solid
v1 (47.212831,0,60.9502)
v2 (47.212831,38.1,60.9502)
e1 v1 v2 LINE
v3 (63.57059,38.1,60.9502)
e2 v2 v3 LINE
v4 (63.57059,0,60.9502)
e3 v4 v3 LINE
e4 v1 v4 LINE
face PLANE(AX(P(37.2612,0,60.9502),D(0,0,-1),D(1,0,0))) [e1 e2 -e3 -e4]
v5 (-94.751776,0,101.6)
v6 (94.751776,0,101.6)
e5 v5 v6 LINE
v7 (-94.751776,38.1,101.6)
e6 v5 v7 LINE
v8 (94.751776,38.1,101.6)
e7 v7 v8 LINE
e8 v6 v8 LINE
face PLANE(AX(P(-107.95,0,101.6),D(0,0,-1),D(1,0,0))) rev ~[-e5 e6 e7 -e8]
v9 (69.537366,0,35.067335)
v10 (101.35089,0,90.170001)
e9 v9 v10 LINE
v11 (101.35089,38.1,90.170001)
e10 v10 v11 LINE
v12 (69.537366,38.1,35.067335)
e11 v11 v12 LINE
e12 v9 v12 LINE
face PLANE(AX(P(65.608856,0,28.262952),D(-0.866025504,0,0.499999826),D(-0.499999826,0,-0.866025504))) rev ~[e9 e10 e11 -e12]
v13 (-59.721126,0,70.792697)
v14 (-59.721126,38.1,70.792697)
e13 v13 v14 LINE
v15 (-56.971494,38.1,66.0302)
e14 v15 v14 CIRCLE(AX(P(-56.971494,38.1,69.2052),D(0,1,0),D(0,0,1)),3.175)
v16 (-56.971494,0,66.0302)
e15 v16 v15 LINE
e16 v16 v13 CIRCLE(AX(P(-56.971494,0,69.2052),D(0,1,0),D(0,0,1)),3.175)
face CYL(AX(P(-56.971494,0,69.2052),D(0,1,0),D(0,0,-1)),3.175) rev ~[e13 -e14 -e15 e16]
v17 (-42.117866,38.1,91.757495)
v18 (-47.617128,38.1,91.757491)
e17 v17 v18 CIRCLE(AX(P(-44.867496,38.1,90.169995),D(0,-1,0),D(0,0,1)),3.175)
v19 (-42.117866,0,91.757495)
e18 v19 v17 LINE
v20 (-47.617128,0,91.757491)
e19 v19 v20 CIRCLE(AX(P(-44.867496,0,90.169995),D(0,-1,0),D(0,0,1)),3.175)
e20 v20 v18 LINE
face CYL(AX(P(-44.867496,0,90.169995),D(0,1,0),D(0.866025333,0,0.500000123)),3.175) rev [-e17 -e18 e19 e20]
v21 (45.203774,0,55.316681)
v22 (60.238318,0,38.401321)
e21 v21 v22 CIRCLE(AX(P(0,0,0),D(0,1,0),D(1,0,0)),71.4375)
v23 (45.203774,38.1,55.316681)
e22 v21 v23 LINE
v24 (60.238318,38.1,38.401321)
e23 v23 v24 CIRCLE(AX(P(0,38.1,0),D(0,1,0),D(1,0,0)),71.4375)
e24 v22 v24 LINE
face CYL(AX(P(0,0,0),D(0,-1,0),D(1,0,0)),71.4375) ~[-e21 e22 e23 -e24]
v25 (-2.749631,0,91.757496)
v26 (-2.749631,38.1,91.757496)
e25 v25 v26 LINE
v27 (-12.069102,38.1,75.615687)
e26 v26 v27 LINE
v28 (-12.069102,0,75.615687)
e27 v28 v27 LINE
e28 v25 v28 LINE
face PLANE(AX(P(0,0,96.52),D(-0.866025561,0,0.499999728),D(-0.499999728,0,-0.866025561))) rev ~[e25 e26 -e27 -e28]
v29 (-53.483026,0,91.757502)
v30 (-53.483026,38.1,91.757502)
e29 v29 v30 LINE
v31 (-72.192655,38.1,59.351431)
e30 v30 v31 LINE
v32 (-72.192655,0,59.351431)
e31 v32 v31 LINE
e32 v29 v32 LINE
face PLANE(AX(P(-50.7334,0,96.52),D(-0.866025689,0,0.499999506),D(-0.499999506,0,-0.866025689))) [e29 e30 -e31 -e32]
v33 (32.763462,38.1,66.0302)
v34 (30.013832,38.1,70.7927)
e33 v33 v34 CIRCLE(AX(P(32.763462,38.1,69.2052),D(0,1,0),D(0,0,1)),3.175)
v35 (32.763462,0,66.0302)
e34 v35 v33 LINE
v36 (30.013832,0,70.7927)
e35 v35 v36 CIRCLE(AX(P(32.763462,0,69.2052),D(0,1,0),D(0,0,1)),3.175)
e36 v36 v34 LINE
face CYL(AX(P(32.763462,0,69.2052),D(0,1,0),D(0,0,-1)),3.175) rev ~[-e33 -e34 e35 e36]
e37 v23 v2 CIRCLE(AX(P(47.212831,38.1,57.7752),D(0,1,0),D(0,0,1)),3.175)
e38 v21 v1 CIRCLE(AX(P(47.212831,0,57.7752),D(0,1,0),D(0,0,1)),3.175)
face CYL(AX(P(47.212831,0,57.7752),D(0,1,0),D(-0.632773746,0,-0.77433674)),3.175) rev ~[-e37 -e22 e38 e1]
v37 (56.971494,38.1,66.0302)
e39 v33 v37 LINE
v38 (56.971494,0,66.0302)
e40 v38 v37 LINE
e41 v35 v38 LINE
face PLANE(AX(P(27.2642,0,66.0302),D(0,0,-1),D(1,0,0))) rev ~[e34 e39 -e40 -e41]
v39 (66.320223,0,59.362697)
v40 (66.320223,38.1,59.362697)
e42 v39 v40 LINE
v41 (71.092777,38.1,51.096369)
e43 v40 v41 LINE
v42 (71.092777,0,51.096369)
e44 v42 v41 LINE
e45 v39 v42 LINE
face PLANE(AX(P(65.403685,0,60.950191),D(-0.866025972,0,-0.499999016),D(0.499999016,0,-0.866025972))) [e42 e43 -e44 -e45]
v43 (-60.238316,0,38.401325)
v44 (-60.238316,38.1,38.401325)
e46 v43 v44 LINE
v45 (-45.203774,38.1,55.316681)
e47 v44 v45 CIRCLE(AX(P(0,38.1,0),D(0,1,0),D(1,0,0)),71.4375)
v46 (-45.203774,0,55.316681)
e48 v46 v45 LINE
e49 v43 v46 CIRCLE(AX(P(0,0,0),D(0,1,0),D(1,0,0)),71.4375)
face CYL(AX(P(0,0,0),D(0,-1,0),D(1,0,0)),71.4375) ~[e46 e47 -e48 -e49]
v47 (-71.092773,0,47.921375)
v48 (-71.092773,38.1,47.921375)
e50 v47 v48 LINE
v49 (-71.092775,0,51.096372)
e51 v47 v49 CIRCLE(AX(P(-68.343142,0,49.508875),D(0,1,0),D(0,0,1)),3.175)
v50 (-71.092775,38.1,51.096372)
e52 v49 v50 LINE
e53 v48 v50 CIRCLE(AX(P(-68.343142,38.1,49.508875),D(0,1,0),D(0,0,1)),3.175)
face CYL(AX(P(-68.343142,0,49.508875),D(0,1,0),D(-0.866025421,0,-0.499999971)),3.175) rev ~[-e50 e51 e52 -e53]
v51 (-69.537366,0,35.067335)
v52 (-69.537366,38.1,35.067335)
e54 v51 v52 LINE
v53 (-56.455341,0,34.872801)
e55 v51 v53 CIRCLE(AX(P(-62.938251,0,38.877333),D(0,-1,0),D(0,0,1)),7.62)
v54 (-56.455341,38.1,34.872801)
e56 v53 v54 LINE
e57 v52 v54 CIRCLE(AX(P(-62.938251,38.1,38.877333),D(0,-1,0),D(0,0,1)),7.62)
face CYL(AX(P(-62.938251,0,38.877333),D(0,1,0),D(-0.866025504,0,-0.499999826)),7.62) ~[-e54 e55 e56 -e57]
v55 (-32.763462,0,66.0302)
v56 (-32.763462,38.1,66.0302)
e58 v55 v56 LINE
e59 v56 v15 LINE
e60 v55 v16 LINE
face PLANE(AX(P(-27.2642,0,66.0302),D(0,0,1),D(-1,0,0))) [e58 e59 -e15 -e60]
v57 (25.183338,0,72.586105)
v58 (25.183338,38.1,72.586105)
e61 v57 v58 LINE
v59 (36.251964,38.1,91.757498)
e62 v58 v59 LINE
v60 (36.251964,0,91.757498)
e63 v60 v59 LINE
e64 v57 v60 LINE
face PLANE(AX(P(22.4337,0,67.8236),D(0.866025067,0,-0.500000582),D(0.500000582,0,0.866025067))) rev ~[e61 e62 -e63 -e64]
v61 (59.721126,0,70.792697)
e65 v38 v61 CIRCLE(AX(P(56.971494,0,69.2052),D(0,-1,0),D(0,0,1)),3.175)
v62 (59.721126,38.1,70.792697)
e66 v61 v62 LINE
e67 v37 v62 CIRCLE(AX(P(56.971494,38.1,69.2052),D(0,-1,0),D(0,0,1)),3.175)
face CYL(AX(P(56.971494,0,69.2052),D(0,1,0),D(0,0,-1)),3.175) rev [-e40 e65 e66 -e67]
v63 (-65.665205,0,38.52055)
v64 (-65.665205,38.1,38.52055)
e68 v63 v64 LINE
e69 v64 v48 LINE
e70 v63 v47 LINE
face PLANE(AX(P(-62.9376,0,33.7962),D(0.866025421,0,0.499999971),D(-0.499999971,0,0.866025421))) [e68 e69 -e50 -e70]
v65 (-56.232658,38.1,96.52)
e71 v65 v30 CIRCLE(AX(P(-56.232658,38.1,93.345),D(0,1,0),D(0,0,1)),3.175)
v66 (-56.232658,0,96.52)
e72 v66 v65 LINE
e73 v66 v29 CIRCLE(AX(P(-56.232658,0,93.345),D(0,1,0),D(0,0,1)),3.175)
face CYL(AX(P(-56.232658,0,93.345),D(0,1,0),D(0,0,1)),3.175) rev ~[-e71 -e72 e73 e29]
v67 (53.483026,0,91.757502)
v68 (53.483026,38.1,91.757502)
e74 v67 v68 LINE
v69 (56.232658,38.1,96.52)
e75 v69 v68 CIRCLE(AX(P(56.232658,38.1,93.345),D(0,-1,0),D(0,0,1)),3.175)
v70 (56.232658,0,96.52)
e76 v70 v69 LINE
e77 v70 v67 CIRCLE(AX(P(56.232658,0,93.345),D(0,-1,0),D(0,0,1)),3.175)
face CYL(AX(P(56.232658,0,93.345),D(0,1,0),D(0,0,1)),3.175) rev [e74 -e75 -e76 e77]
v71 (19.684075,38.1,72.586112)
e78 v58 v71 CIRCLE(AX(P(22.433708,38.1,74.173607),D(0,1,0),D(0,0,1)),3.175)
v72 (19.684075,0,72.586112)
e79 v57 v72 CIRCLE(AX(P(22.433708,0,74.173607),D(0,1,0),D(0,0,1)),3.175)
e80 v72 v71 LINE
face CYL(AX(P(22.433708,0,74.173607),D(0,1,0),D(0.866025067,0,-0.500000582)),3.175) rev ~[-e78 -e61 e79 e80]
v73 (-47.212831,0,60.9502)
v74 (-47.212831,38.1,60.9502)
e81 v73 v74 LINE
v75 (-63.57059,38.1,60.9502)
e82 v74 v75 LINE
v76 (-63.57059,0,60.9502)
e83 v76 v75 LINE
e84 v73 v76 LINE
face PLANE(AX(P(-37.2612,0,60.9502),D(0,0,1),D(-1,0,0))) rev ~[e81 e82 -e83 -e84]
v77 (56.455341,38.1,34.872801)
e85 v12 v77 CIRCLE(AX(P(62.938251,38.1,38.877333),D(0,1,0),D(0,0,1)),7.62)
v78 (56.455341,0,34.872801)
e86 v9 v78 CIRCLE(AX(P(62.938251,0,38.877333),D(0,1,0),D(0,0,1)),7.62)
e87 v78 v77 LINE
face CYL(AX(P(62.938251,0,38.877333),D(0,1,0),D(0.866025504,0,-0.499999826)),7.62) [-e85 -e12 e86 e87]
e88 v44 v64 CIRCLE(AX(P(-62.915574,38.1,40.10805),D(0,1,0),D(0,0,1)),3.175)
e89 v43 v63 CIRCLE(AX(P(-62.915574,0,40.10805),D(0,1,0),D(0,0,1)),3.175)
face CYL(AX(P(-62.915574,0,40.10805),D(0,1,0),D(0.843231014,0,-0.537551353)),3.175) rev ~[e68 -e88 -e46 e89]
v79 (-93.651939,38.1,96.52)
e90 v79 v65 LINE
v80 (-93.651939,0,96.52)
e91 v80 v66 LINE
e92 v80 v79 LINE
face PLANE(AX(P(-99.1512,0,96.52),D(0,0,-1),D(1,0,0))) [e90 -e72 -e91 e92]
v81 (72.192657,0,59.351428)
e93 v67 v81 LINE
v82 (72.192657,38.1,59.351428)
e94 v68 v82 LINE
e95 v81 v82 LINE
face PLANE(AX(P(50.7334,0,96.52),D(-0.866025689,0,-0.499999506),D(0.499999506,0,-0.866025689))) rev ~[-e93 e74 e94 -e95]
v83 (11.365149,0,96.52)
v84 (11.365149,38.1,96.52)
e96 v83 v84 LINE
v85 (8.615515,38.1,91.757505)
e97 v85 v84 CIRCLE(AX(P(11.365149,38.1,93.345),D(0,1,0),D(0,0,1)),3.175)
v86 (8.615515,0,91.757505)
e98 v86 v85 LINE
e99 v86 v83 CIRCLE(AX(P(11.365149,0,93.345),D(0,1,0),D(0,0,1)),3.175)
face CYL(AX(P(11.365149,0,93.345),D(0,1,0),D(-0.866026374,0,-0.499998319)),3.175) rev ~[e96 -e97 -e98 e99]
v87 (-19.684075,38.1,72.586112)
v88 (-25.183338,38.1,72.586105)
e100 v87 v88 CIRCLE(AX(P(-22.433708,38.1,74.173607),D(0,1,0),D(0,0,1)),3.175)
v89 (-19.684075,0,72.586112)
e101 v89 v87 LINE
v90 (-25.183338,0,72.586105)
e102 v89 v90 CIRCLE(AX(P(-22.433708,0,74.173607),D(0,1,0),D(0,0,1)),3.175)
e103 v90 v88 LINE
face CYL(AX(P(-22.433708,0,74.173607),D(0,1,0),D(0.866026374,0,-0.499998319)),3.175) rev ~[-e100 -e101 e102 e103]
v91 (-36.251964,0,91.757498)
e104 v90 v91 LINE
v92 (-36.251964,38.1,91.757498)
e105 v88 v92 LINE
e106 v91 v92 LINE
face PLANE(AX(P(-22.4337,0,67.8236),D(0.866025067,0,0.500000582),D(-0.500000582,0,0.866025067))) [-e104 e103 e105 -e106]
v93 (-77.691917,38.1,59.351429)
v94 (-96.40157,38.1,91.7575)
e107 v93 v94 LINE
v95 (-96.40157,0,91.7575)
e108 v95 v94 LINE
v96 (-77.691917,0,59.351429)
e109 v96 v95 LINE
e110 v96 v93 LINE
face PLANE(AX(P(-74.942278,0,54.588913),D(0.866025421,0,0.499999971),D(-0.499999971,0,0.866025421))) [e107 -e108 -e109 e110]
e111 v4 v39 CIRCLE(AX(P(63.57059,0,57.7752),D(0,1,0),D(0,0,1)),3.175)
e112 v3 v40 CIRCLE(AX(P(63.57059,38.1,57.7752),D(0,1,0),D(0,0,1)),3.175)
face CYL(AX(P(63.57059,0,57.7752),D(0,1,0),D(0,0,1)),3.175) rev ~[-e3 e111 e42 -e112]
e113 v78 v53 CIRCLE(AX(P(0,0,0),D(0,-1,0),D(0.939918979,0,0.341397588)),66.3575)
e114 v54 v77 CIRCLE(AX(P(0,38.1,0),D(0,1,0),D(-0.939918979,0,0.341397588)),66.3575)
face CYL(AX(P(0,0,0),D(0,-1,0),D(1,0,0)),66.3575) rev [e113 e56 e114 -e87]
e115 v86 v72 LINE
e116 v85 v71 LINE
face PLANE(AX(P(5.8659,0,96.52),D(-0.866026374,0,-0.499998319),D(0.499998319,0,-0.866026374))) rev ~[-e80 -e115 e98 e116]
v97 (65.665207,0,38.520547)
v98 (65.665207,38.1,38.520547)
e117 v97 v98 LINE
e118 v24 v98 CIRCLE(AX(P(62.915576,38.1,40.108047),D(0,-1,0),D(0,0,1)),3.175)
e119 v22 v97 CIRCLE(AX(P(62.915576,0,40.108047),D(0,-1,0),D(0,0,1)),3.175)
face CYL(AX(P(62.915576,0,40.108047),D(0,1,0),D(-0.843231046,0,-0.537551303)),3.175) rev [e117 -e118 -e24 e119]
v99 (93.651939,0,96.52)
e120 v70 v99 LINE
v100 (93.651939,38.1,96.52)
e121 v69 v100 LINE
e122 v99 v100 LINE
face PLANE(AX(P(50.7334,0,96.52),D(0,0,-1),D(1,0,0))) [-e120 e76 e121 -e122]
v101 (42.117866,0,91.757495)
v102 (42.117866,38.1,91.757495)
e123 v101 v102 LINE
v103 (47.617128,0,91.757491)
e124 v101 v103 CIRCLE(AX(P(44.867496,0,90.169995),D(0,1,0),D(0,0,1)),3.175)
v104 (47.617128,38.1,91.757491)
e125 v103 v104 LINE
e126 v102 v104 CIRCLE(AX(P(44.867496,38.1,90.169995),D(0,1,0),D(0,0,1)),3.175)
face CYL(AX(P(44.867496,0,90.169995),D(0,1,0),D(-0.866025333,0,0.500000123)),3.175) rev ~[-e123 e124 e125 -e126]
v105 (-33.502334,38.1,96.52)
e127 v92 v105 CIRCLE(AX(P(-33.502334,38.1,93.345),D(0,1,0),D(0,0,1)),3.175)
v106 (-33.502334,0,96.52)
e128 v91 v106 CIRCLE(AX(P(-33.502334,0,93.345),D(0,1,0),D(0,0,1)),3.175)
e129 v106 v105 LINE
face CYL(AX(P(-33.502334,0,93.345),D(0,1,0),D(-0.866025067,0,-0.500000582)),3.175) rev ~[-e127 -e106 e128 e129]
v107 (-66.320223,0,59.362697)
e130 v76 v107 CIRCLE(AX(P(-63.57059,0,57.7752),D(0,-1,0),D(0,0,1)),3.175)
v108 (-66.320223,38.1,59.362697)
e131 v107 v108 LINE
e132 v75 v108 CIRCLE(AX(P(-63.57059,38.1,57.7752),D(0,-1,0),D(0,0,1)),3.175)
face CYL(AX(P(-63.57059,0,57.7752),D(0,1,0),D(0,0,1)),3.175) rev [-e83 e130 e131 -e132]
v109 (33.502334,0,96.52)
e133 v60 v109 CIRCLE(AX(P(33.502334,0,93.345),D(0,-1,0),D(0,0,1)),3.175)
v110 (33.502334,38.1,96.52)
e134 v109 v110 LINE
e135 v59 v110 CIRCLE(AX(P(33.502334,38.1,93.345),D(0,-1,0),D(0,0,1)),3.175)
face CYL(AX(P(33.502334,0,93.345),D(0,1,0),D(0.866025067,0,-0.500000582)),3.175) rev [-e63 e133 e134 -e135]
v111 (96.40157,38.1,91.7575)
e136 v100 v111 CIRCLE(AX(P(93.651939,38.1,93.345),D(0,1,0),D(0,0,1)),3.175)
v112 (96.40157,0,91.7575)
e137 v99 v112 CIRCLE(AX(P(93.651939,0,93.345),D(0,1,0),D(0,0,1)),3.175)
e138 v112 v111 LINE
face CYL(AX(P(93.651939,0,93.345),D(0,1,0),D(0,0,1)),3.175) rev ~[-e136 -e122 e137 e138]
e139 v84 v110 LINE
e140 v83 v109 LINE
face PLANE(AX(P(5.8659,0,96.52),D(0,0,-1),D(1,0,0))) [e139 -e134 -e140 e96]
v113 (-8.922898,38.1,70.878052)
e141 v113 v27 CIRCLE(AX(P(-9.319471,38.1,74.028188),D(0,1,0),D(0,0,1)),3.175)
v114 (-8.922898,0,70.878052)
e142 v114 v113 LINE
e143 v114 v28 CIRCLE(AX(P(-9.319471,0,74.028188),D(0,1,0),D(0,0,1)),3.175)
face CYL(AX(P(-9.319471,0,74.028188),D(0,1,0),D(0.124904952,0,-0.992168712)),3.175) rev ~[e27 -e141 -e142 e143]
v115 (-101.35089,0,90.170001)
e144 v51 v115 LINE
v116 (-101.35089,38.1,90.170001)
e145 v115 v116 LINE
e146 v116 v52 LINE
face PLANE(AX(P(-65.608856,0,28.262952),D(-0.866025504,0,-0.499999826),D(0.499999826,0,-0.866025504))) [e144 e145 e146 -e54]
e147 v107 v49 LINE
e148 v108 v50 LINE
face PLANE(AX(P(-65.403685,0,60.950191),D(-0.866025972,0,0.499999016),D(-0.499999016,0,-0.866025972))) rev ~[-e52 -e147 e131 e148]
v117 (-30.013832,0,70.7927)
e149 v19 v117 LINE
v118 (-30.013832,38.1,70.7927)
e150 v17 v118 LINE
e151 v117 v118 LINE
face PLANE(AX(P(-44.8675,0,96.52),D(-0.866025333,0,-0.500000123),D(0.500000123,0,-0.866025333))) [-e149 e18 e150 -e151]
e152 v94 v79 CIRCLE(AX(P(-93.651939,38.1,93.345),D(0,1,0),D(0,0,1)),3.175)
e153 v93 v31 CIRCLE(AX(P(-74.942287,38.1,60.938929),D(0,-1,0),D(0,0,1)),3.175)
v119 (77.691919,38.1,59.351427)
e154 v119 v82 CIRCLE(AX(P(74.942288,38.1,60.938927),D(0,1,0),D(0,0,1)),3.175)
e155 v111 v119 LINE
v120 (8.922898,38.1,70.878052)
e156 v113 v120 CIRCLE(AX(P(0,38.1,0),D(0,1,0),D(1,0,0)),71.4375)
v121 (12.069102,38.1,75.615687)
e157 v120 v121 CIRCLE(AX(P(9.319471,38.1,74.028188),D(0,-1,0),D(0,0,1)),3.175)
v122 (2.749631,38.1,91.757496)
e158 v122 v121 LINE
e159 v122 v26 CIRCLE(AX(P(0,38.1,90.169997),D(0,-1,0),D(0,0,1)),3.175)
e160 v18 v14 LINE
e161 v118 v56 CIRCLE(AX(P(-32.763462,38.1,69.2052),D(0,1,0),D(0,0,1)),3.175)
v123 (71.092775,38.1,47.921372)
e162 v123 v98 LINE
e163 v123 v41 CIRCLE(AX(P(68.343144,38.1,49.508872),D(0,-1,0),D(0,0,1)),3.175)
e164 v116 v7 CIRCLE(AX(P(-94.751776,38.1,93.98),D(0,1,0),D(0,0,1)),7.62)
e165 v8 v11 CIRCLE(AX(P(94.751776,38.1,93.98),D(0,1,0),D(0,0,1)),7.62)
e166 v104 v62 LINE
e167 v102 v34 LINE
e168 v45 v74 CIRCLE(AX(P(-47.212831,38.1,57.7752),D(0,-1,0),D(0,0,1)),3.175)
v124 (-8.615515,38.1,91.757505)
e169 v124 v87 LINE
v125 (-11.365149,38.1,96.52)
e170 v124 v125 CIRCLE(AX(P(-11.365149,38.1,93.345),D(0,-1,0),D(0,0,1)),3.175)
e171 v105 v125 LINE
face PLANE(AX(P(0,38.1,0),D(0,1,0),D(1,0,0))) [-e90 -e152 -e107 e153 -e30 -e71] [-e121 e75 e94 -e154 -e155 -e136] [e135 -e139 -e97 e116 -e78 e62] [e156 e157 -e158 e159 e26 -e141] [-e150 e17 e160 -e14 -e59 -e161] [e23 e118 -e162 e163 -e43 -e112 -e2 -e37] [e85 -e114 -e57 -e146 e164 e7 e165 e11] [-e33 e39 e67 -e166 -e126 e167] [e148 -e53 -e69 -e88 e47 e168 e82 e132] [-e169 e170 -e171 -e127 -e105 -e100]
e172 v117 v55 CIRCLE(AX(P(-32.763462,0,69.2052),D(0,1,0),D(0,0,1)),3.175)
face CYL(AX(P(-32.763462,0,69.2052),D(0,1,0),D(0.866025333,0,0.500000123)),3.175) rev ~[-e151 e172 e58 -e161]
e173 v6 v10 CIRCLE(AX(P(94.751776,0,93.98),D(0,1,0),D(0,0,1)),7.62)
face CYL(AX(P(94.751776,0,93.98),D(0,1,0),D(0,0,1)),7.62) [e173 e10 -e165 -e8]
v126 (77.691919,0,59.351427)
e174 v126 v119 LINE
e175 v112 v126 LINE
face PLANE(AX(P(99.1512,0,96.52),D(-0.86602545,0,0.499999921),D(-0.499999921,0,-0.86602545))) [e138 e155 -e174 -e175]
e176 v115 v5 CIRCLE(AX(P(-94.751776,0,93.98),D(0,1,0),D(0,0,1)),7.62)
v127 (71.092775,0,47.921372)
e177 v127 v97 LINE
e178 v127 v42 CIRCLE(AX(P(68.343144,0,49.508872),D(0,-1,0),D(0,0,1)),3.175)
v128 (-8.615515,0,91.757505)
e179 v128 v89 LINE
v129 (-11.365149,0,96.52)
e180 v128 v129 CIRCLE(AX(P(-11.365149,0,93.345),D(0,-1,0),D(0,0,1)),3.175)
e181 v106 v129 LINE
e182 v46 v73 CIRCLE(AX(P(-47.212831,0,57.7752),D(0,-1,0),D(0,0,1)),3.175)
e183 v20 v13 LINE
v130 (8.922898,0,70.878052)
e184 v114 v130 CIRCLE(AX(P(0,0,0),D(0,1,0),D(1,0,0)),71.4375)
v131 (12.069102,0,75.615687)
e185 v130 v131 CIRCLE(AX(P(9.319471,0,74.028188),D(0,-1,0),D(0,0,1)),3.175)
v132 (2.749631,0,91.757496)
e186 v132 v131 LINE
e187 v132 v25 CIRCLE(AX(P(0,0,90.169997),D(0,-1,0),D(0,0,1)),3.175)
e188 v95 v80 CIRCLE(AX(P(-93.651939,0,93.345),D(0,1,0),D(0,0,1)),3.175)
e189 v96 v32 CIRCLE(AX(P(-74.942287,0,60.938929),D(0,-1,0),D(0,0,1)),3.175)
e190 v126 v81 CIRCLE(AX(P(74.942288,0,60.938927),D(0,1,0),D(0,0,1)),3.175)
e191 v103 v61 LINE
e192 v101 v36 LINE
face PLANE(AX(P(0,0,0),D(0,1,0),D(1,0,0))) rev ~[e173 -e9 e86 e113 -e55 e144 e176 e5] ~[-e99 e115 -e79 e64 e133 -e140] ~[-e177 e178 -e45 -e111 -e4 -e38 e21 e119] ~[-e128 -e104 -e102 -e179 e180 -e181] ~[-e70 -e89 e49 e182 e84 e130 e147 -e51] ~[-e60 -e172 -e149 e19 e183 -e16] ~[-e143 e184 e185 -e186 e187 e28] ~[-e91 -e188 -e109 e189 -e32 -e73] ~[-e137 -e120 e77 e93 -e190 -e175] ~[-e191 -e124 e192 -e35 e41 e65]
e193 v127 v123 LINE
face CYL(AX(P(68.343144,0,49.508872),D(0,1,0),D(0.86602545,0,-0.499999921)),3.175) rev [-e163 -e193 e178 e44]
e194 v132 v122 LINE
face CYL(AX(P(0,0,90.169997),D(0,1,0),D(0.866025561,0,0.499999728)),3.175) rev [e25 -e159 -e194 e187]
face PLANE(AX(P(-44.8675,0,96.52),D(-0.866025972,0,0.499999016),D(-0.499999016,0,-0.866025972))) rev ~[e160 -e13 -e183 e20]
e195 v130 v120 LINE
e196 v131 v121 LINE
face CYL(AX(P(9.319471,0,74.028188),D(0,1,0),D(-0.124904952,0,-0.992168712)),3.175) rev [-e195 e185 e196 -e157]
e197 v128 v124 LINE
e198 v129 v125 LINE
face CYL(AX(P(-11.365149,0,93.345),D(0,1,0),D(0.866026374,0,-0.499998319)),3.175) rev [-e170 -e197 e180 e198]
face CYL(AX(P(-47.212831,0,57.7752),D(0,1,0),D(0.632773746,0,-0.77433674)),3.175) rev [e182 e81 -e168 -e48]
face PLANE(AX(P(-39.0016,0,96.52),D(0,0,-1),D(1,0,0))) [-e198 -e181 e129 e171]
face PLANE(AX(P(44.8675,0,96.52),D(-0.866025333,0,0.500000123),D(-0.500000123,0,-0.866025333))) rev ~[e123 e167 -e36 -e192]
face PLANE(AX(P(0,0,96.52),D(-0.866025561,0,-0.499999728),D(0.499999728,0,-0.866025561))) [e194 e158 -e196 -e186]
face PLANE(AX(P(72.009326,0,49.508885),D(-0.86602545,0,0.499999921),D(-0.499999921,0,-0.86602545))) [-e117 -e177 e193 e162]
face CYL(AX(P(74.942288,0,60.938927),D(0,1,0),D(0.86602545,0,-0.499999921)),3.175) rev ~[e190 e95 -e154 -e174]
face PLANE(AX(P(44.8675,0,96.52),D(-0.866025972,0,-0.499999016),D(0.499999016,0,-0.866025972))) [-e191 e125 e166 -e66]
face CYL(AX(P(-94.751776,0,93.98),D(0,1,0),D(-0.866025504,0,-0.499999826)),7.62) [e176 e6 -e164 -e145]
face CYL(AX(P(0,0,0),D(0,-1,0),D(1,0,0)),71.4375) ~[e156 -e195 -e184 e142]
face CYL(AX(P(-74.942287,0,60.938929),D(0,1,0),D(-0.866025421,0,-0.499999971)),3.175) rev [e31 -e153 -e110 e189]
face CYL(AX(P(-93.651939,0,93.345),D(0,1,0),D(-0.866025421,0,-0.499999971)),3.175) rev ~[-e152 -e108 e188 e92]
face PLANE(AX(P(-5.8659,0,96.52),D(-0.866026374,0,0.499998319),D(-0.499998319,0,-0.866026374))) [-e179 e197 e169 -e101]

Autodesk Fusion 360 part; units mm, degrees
sketch "Sketch1" plane through (0, 0, 0) normal (0, 1, 0) x (1, 0, 0)
  circle A0 centre (0, 0) radius 68.2625 construction
  line L0 (0, 0) -> (0, -72.136) construction
  circle A1 centre (0, -72.136) radius 22.098 construction
  circle A2 centre (0, 0) radius 65.7225 construction
  circle A3 centre (0, 0) radius 66.3575
  line L1 (0, -72.136) -> (0, -101.6) construction
  line L2 (-107.95, -101.6) -> (107.95, -101.6)
  line L3 (-107.95, -101.6) -> (-62.3707, -22.6543)
  line L4 (107.95, -101.6) -> (62.3707, -22.6543)
  circle A4 centre (0, 0) radius 71.4375
  line L5 (-62.9376, -33.7962) -> (-99.1512, -96.52)
  line L6 (-99.1512, -96.52) -> (99.1512, -96.52)
  line L7 (99.1512, -96.52) -> (59.9049, -28.5434)
  line L8 (0, -96.52) -> (15.4586, -69.7449)
  line L9 (5.8659, -96.52) -> (22.4337, -67.8236)
  line L10 (22.4337, -67.8236) -> (39.0016, -96.52)
  line L11 (44.8675, -96.52) -> (27.2642, -66.0302)
  line L12 (44.8675, -96.52) -> (72.0093, -49.5089)
  line L13 (50.7334, -96.52) -> (74.9423, -54.5889)
  line L14 (27.2642, -66.0302) -> (62.4708, -66.0302)
  line L15 (37.2612, -60.9502) -> (65.4037, -60.9502)
  line L16 (0, -96.52) -> (-15.4586, -69.7449)
  line L17 (-22.4337, -67.8236) -> (-39.0016, -96.52)
  line L18 (-5.8659, -96.52) -> (-22.4337, -67.8236)
  line L19 (-44.8675, -96.52) -> (-27.2642, -66.0302)
  line L20 (-27.2642, -66.0302) -> (-62.4708, -66.0302)
  line L21 (-44.8675, -96.52) -> (-72.0093, -49.5089)
  line L22 (-50.7334, -96.52) -> (-74.9423, -54.5889)
  line L23 (-37.2612, -60.9502) -> (-65.4037, -60.9502)
  dimension "d1" = 136.525
  dimension "d2" = 72.136
  dimension "d3" = 44.196
  dimension "d7" = 131.445
  dimension "d8" = 0.635
  dimension "d9" = 101.6
  dimension "d10" = 60
  dimension "d11" = 215.9
  dimension "d14" = 5.08
  dimension "d15" = 5.08
  dimension "d16" = 5.08
  dimension "d17" = 5.08
  dimension "d30" = 30
  dimension "d31" = 5.08
  dimension "d32" = 60
  dimension "d34" = 60
  dimension "d35" = 5.08
  dimension "d36" = 5.08
  dimension "d37" = 5.08
extrude "Extrude1" add sketch "Sketch1" along normal blind 38.1 contours A3 L3 A4 L7 | A3 L4 A4 L7 | L2 L3 L4 A4 L5 L6 L7 | A4 L12 L14 L15 | L6 L7 L12 L13 | A4 L20 L21 L23 | L5 L6 L21 L22 | A4 L6 L10 L11 | A4 L6 L17 L19 | A4 L6 L8 L9 | A4 L6 L16 L18
fillet "Fillet2" radius 3.175 29 edges at (-62.9376, 19.05, 33.7962) (-99.1512, 19.05, 96.52) (99.1512, 19.05, 96.52) (62.9376, 19.05, 33.7962) (-72.0093, 19.05, 49.5089) (-65.4037, 19.05, 60.9502) (-37.2612, 19.05, 60.9502) (-74.9423, 19.05, 54.5889) (-50.7334, 19.05, 96.52) (-62.4708, 19.05, 66.0302) (-44.8675, 19.05, 96.52) (-27.2642, 19.05, 66.0302) (-39.0016, 19.05, 96.52) (-22.4337, 19.05, 67.8236) (-5.8659, 19.05, 96.52) (-15.4586, 19.05, 69.7449) (15.4586, 19.05, 69.7449) (0, 19.05, 96.52) (5.8659, 19.05, 96.52) (22.4337, 19.05, 67.8236) (39.0016, 19.05, 96.52) (27.2642, 19.05, 66.0302) (44.8675, 19.05, 96.52) (62.4708, 19.05, 66.0302) (37.2612, 19.05, 60.9502) (72.0093, 19.05, 49.5089) (65.4037, 19.05, 60.9502) (74.9423, 19.05, 54.5889) (50.7334, 19.05, 96.52)
fillet "Fillet1" radius 7.62 4 edges at (-62.3707, 19.05, 22.6543) (62.3707, 19.05, 22.6543) (107.95, 19.05, 101.6) (-107.95, 19.05, 101.6)
equation "d15 = d14"
equation "d16 = d14"
equation "d17 = d14"
equation "d31 = d14"
equation "d35 = d14"
equation "d36 = d35"
equation "d37 = d17"
